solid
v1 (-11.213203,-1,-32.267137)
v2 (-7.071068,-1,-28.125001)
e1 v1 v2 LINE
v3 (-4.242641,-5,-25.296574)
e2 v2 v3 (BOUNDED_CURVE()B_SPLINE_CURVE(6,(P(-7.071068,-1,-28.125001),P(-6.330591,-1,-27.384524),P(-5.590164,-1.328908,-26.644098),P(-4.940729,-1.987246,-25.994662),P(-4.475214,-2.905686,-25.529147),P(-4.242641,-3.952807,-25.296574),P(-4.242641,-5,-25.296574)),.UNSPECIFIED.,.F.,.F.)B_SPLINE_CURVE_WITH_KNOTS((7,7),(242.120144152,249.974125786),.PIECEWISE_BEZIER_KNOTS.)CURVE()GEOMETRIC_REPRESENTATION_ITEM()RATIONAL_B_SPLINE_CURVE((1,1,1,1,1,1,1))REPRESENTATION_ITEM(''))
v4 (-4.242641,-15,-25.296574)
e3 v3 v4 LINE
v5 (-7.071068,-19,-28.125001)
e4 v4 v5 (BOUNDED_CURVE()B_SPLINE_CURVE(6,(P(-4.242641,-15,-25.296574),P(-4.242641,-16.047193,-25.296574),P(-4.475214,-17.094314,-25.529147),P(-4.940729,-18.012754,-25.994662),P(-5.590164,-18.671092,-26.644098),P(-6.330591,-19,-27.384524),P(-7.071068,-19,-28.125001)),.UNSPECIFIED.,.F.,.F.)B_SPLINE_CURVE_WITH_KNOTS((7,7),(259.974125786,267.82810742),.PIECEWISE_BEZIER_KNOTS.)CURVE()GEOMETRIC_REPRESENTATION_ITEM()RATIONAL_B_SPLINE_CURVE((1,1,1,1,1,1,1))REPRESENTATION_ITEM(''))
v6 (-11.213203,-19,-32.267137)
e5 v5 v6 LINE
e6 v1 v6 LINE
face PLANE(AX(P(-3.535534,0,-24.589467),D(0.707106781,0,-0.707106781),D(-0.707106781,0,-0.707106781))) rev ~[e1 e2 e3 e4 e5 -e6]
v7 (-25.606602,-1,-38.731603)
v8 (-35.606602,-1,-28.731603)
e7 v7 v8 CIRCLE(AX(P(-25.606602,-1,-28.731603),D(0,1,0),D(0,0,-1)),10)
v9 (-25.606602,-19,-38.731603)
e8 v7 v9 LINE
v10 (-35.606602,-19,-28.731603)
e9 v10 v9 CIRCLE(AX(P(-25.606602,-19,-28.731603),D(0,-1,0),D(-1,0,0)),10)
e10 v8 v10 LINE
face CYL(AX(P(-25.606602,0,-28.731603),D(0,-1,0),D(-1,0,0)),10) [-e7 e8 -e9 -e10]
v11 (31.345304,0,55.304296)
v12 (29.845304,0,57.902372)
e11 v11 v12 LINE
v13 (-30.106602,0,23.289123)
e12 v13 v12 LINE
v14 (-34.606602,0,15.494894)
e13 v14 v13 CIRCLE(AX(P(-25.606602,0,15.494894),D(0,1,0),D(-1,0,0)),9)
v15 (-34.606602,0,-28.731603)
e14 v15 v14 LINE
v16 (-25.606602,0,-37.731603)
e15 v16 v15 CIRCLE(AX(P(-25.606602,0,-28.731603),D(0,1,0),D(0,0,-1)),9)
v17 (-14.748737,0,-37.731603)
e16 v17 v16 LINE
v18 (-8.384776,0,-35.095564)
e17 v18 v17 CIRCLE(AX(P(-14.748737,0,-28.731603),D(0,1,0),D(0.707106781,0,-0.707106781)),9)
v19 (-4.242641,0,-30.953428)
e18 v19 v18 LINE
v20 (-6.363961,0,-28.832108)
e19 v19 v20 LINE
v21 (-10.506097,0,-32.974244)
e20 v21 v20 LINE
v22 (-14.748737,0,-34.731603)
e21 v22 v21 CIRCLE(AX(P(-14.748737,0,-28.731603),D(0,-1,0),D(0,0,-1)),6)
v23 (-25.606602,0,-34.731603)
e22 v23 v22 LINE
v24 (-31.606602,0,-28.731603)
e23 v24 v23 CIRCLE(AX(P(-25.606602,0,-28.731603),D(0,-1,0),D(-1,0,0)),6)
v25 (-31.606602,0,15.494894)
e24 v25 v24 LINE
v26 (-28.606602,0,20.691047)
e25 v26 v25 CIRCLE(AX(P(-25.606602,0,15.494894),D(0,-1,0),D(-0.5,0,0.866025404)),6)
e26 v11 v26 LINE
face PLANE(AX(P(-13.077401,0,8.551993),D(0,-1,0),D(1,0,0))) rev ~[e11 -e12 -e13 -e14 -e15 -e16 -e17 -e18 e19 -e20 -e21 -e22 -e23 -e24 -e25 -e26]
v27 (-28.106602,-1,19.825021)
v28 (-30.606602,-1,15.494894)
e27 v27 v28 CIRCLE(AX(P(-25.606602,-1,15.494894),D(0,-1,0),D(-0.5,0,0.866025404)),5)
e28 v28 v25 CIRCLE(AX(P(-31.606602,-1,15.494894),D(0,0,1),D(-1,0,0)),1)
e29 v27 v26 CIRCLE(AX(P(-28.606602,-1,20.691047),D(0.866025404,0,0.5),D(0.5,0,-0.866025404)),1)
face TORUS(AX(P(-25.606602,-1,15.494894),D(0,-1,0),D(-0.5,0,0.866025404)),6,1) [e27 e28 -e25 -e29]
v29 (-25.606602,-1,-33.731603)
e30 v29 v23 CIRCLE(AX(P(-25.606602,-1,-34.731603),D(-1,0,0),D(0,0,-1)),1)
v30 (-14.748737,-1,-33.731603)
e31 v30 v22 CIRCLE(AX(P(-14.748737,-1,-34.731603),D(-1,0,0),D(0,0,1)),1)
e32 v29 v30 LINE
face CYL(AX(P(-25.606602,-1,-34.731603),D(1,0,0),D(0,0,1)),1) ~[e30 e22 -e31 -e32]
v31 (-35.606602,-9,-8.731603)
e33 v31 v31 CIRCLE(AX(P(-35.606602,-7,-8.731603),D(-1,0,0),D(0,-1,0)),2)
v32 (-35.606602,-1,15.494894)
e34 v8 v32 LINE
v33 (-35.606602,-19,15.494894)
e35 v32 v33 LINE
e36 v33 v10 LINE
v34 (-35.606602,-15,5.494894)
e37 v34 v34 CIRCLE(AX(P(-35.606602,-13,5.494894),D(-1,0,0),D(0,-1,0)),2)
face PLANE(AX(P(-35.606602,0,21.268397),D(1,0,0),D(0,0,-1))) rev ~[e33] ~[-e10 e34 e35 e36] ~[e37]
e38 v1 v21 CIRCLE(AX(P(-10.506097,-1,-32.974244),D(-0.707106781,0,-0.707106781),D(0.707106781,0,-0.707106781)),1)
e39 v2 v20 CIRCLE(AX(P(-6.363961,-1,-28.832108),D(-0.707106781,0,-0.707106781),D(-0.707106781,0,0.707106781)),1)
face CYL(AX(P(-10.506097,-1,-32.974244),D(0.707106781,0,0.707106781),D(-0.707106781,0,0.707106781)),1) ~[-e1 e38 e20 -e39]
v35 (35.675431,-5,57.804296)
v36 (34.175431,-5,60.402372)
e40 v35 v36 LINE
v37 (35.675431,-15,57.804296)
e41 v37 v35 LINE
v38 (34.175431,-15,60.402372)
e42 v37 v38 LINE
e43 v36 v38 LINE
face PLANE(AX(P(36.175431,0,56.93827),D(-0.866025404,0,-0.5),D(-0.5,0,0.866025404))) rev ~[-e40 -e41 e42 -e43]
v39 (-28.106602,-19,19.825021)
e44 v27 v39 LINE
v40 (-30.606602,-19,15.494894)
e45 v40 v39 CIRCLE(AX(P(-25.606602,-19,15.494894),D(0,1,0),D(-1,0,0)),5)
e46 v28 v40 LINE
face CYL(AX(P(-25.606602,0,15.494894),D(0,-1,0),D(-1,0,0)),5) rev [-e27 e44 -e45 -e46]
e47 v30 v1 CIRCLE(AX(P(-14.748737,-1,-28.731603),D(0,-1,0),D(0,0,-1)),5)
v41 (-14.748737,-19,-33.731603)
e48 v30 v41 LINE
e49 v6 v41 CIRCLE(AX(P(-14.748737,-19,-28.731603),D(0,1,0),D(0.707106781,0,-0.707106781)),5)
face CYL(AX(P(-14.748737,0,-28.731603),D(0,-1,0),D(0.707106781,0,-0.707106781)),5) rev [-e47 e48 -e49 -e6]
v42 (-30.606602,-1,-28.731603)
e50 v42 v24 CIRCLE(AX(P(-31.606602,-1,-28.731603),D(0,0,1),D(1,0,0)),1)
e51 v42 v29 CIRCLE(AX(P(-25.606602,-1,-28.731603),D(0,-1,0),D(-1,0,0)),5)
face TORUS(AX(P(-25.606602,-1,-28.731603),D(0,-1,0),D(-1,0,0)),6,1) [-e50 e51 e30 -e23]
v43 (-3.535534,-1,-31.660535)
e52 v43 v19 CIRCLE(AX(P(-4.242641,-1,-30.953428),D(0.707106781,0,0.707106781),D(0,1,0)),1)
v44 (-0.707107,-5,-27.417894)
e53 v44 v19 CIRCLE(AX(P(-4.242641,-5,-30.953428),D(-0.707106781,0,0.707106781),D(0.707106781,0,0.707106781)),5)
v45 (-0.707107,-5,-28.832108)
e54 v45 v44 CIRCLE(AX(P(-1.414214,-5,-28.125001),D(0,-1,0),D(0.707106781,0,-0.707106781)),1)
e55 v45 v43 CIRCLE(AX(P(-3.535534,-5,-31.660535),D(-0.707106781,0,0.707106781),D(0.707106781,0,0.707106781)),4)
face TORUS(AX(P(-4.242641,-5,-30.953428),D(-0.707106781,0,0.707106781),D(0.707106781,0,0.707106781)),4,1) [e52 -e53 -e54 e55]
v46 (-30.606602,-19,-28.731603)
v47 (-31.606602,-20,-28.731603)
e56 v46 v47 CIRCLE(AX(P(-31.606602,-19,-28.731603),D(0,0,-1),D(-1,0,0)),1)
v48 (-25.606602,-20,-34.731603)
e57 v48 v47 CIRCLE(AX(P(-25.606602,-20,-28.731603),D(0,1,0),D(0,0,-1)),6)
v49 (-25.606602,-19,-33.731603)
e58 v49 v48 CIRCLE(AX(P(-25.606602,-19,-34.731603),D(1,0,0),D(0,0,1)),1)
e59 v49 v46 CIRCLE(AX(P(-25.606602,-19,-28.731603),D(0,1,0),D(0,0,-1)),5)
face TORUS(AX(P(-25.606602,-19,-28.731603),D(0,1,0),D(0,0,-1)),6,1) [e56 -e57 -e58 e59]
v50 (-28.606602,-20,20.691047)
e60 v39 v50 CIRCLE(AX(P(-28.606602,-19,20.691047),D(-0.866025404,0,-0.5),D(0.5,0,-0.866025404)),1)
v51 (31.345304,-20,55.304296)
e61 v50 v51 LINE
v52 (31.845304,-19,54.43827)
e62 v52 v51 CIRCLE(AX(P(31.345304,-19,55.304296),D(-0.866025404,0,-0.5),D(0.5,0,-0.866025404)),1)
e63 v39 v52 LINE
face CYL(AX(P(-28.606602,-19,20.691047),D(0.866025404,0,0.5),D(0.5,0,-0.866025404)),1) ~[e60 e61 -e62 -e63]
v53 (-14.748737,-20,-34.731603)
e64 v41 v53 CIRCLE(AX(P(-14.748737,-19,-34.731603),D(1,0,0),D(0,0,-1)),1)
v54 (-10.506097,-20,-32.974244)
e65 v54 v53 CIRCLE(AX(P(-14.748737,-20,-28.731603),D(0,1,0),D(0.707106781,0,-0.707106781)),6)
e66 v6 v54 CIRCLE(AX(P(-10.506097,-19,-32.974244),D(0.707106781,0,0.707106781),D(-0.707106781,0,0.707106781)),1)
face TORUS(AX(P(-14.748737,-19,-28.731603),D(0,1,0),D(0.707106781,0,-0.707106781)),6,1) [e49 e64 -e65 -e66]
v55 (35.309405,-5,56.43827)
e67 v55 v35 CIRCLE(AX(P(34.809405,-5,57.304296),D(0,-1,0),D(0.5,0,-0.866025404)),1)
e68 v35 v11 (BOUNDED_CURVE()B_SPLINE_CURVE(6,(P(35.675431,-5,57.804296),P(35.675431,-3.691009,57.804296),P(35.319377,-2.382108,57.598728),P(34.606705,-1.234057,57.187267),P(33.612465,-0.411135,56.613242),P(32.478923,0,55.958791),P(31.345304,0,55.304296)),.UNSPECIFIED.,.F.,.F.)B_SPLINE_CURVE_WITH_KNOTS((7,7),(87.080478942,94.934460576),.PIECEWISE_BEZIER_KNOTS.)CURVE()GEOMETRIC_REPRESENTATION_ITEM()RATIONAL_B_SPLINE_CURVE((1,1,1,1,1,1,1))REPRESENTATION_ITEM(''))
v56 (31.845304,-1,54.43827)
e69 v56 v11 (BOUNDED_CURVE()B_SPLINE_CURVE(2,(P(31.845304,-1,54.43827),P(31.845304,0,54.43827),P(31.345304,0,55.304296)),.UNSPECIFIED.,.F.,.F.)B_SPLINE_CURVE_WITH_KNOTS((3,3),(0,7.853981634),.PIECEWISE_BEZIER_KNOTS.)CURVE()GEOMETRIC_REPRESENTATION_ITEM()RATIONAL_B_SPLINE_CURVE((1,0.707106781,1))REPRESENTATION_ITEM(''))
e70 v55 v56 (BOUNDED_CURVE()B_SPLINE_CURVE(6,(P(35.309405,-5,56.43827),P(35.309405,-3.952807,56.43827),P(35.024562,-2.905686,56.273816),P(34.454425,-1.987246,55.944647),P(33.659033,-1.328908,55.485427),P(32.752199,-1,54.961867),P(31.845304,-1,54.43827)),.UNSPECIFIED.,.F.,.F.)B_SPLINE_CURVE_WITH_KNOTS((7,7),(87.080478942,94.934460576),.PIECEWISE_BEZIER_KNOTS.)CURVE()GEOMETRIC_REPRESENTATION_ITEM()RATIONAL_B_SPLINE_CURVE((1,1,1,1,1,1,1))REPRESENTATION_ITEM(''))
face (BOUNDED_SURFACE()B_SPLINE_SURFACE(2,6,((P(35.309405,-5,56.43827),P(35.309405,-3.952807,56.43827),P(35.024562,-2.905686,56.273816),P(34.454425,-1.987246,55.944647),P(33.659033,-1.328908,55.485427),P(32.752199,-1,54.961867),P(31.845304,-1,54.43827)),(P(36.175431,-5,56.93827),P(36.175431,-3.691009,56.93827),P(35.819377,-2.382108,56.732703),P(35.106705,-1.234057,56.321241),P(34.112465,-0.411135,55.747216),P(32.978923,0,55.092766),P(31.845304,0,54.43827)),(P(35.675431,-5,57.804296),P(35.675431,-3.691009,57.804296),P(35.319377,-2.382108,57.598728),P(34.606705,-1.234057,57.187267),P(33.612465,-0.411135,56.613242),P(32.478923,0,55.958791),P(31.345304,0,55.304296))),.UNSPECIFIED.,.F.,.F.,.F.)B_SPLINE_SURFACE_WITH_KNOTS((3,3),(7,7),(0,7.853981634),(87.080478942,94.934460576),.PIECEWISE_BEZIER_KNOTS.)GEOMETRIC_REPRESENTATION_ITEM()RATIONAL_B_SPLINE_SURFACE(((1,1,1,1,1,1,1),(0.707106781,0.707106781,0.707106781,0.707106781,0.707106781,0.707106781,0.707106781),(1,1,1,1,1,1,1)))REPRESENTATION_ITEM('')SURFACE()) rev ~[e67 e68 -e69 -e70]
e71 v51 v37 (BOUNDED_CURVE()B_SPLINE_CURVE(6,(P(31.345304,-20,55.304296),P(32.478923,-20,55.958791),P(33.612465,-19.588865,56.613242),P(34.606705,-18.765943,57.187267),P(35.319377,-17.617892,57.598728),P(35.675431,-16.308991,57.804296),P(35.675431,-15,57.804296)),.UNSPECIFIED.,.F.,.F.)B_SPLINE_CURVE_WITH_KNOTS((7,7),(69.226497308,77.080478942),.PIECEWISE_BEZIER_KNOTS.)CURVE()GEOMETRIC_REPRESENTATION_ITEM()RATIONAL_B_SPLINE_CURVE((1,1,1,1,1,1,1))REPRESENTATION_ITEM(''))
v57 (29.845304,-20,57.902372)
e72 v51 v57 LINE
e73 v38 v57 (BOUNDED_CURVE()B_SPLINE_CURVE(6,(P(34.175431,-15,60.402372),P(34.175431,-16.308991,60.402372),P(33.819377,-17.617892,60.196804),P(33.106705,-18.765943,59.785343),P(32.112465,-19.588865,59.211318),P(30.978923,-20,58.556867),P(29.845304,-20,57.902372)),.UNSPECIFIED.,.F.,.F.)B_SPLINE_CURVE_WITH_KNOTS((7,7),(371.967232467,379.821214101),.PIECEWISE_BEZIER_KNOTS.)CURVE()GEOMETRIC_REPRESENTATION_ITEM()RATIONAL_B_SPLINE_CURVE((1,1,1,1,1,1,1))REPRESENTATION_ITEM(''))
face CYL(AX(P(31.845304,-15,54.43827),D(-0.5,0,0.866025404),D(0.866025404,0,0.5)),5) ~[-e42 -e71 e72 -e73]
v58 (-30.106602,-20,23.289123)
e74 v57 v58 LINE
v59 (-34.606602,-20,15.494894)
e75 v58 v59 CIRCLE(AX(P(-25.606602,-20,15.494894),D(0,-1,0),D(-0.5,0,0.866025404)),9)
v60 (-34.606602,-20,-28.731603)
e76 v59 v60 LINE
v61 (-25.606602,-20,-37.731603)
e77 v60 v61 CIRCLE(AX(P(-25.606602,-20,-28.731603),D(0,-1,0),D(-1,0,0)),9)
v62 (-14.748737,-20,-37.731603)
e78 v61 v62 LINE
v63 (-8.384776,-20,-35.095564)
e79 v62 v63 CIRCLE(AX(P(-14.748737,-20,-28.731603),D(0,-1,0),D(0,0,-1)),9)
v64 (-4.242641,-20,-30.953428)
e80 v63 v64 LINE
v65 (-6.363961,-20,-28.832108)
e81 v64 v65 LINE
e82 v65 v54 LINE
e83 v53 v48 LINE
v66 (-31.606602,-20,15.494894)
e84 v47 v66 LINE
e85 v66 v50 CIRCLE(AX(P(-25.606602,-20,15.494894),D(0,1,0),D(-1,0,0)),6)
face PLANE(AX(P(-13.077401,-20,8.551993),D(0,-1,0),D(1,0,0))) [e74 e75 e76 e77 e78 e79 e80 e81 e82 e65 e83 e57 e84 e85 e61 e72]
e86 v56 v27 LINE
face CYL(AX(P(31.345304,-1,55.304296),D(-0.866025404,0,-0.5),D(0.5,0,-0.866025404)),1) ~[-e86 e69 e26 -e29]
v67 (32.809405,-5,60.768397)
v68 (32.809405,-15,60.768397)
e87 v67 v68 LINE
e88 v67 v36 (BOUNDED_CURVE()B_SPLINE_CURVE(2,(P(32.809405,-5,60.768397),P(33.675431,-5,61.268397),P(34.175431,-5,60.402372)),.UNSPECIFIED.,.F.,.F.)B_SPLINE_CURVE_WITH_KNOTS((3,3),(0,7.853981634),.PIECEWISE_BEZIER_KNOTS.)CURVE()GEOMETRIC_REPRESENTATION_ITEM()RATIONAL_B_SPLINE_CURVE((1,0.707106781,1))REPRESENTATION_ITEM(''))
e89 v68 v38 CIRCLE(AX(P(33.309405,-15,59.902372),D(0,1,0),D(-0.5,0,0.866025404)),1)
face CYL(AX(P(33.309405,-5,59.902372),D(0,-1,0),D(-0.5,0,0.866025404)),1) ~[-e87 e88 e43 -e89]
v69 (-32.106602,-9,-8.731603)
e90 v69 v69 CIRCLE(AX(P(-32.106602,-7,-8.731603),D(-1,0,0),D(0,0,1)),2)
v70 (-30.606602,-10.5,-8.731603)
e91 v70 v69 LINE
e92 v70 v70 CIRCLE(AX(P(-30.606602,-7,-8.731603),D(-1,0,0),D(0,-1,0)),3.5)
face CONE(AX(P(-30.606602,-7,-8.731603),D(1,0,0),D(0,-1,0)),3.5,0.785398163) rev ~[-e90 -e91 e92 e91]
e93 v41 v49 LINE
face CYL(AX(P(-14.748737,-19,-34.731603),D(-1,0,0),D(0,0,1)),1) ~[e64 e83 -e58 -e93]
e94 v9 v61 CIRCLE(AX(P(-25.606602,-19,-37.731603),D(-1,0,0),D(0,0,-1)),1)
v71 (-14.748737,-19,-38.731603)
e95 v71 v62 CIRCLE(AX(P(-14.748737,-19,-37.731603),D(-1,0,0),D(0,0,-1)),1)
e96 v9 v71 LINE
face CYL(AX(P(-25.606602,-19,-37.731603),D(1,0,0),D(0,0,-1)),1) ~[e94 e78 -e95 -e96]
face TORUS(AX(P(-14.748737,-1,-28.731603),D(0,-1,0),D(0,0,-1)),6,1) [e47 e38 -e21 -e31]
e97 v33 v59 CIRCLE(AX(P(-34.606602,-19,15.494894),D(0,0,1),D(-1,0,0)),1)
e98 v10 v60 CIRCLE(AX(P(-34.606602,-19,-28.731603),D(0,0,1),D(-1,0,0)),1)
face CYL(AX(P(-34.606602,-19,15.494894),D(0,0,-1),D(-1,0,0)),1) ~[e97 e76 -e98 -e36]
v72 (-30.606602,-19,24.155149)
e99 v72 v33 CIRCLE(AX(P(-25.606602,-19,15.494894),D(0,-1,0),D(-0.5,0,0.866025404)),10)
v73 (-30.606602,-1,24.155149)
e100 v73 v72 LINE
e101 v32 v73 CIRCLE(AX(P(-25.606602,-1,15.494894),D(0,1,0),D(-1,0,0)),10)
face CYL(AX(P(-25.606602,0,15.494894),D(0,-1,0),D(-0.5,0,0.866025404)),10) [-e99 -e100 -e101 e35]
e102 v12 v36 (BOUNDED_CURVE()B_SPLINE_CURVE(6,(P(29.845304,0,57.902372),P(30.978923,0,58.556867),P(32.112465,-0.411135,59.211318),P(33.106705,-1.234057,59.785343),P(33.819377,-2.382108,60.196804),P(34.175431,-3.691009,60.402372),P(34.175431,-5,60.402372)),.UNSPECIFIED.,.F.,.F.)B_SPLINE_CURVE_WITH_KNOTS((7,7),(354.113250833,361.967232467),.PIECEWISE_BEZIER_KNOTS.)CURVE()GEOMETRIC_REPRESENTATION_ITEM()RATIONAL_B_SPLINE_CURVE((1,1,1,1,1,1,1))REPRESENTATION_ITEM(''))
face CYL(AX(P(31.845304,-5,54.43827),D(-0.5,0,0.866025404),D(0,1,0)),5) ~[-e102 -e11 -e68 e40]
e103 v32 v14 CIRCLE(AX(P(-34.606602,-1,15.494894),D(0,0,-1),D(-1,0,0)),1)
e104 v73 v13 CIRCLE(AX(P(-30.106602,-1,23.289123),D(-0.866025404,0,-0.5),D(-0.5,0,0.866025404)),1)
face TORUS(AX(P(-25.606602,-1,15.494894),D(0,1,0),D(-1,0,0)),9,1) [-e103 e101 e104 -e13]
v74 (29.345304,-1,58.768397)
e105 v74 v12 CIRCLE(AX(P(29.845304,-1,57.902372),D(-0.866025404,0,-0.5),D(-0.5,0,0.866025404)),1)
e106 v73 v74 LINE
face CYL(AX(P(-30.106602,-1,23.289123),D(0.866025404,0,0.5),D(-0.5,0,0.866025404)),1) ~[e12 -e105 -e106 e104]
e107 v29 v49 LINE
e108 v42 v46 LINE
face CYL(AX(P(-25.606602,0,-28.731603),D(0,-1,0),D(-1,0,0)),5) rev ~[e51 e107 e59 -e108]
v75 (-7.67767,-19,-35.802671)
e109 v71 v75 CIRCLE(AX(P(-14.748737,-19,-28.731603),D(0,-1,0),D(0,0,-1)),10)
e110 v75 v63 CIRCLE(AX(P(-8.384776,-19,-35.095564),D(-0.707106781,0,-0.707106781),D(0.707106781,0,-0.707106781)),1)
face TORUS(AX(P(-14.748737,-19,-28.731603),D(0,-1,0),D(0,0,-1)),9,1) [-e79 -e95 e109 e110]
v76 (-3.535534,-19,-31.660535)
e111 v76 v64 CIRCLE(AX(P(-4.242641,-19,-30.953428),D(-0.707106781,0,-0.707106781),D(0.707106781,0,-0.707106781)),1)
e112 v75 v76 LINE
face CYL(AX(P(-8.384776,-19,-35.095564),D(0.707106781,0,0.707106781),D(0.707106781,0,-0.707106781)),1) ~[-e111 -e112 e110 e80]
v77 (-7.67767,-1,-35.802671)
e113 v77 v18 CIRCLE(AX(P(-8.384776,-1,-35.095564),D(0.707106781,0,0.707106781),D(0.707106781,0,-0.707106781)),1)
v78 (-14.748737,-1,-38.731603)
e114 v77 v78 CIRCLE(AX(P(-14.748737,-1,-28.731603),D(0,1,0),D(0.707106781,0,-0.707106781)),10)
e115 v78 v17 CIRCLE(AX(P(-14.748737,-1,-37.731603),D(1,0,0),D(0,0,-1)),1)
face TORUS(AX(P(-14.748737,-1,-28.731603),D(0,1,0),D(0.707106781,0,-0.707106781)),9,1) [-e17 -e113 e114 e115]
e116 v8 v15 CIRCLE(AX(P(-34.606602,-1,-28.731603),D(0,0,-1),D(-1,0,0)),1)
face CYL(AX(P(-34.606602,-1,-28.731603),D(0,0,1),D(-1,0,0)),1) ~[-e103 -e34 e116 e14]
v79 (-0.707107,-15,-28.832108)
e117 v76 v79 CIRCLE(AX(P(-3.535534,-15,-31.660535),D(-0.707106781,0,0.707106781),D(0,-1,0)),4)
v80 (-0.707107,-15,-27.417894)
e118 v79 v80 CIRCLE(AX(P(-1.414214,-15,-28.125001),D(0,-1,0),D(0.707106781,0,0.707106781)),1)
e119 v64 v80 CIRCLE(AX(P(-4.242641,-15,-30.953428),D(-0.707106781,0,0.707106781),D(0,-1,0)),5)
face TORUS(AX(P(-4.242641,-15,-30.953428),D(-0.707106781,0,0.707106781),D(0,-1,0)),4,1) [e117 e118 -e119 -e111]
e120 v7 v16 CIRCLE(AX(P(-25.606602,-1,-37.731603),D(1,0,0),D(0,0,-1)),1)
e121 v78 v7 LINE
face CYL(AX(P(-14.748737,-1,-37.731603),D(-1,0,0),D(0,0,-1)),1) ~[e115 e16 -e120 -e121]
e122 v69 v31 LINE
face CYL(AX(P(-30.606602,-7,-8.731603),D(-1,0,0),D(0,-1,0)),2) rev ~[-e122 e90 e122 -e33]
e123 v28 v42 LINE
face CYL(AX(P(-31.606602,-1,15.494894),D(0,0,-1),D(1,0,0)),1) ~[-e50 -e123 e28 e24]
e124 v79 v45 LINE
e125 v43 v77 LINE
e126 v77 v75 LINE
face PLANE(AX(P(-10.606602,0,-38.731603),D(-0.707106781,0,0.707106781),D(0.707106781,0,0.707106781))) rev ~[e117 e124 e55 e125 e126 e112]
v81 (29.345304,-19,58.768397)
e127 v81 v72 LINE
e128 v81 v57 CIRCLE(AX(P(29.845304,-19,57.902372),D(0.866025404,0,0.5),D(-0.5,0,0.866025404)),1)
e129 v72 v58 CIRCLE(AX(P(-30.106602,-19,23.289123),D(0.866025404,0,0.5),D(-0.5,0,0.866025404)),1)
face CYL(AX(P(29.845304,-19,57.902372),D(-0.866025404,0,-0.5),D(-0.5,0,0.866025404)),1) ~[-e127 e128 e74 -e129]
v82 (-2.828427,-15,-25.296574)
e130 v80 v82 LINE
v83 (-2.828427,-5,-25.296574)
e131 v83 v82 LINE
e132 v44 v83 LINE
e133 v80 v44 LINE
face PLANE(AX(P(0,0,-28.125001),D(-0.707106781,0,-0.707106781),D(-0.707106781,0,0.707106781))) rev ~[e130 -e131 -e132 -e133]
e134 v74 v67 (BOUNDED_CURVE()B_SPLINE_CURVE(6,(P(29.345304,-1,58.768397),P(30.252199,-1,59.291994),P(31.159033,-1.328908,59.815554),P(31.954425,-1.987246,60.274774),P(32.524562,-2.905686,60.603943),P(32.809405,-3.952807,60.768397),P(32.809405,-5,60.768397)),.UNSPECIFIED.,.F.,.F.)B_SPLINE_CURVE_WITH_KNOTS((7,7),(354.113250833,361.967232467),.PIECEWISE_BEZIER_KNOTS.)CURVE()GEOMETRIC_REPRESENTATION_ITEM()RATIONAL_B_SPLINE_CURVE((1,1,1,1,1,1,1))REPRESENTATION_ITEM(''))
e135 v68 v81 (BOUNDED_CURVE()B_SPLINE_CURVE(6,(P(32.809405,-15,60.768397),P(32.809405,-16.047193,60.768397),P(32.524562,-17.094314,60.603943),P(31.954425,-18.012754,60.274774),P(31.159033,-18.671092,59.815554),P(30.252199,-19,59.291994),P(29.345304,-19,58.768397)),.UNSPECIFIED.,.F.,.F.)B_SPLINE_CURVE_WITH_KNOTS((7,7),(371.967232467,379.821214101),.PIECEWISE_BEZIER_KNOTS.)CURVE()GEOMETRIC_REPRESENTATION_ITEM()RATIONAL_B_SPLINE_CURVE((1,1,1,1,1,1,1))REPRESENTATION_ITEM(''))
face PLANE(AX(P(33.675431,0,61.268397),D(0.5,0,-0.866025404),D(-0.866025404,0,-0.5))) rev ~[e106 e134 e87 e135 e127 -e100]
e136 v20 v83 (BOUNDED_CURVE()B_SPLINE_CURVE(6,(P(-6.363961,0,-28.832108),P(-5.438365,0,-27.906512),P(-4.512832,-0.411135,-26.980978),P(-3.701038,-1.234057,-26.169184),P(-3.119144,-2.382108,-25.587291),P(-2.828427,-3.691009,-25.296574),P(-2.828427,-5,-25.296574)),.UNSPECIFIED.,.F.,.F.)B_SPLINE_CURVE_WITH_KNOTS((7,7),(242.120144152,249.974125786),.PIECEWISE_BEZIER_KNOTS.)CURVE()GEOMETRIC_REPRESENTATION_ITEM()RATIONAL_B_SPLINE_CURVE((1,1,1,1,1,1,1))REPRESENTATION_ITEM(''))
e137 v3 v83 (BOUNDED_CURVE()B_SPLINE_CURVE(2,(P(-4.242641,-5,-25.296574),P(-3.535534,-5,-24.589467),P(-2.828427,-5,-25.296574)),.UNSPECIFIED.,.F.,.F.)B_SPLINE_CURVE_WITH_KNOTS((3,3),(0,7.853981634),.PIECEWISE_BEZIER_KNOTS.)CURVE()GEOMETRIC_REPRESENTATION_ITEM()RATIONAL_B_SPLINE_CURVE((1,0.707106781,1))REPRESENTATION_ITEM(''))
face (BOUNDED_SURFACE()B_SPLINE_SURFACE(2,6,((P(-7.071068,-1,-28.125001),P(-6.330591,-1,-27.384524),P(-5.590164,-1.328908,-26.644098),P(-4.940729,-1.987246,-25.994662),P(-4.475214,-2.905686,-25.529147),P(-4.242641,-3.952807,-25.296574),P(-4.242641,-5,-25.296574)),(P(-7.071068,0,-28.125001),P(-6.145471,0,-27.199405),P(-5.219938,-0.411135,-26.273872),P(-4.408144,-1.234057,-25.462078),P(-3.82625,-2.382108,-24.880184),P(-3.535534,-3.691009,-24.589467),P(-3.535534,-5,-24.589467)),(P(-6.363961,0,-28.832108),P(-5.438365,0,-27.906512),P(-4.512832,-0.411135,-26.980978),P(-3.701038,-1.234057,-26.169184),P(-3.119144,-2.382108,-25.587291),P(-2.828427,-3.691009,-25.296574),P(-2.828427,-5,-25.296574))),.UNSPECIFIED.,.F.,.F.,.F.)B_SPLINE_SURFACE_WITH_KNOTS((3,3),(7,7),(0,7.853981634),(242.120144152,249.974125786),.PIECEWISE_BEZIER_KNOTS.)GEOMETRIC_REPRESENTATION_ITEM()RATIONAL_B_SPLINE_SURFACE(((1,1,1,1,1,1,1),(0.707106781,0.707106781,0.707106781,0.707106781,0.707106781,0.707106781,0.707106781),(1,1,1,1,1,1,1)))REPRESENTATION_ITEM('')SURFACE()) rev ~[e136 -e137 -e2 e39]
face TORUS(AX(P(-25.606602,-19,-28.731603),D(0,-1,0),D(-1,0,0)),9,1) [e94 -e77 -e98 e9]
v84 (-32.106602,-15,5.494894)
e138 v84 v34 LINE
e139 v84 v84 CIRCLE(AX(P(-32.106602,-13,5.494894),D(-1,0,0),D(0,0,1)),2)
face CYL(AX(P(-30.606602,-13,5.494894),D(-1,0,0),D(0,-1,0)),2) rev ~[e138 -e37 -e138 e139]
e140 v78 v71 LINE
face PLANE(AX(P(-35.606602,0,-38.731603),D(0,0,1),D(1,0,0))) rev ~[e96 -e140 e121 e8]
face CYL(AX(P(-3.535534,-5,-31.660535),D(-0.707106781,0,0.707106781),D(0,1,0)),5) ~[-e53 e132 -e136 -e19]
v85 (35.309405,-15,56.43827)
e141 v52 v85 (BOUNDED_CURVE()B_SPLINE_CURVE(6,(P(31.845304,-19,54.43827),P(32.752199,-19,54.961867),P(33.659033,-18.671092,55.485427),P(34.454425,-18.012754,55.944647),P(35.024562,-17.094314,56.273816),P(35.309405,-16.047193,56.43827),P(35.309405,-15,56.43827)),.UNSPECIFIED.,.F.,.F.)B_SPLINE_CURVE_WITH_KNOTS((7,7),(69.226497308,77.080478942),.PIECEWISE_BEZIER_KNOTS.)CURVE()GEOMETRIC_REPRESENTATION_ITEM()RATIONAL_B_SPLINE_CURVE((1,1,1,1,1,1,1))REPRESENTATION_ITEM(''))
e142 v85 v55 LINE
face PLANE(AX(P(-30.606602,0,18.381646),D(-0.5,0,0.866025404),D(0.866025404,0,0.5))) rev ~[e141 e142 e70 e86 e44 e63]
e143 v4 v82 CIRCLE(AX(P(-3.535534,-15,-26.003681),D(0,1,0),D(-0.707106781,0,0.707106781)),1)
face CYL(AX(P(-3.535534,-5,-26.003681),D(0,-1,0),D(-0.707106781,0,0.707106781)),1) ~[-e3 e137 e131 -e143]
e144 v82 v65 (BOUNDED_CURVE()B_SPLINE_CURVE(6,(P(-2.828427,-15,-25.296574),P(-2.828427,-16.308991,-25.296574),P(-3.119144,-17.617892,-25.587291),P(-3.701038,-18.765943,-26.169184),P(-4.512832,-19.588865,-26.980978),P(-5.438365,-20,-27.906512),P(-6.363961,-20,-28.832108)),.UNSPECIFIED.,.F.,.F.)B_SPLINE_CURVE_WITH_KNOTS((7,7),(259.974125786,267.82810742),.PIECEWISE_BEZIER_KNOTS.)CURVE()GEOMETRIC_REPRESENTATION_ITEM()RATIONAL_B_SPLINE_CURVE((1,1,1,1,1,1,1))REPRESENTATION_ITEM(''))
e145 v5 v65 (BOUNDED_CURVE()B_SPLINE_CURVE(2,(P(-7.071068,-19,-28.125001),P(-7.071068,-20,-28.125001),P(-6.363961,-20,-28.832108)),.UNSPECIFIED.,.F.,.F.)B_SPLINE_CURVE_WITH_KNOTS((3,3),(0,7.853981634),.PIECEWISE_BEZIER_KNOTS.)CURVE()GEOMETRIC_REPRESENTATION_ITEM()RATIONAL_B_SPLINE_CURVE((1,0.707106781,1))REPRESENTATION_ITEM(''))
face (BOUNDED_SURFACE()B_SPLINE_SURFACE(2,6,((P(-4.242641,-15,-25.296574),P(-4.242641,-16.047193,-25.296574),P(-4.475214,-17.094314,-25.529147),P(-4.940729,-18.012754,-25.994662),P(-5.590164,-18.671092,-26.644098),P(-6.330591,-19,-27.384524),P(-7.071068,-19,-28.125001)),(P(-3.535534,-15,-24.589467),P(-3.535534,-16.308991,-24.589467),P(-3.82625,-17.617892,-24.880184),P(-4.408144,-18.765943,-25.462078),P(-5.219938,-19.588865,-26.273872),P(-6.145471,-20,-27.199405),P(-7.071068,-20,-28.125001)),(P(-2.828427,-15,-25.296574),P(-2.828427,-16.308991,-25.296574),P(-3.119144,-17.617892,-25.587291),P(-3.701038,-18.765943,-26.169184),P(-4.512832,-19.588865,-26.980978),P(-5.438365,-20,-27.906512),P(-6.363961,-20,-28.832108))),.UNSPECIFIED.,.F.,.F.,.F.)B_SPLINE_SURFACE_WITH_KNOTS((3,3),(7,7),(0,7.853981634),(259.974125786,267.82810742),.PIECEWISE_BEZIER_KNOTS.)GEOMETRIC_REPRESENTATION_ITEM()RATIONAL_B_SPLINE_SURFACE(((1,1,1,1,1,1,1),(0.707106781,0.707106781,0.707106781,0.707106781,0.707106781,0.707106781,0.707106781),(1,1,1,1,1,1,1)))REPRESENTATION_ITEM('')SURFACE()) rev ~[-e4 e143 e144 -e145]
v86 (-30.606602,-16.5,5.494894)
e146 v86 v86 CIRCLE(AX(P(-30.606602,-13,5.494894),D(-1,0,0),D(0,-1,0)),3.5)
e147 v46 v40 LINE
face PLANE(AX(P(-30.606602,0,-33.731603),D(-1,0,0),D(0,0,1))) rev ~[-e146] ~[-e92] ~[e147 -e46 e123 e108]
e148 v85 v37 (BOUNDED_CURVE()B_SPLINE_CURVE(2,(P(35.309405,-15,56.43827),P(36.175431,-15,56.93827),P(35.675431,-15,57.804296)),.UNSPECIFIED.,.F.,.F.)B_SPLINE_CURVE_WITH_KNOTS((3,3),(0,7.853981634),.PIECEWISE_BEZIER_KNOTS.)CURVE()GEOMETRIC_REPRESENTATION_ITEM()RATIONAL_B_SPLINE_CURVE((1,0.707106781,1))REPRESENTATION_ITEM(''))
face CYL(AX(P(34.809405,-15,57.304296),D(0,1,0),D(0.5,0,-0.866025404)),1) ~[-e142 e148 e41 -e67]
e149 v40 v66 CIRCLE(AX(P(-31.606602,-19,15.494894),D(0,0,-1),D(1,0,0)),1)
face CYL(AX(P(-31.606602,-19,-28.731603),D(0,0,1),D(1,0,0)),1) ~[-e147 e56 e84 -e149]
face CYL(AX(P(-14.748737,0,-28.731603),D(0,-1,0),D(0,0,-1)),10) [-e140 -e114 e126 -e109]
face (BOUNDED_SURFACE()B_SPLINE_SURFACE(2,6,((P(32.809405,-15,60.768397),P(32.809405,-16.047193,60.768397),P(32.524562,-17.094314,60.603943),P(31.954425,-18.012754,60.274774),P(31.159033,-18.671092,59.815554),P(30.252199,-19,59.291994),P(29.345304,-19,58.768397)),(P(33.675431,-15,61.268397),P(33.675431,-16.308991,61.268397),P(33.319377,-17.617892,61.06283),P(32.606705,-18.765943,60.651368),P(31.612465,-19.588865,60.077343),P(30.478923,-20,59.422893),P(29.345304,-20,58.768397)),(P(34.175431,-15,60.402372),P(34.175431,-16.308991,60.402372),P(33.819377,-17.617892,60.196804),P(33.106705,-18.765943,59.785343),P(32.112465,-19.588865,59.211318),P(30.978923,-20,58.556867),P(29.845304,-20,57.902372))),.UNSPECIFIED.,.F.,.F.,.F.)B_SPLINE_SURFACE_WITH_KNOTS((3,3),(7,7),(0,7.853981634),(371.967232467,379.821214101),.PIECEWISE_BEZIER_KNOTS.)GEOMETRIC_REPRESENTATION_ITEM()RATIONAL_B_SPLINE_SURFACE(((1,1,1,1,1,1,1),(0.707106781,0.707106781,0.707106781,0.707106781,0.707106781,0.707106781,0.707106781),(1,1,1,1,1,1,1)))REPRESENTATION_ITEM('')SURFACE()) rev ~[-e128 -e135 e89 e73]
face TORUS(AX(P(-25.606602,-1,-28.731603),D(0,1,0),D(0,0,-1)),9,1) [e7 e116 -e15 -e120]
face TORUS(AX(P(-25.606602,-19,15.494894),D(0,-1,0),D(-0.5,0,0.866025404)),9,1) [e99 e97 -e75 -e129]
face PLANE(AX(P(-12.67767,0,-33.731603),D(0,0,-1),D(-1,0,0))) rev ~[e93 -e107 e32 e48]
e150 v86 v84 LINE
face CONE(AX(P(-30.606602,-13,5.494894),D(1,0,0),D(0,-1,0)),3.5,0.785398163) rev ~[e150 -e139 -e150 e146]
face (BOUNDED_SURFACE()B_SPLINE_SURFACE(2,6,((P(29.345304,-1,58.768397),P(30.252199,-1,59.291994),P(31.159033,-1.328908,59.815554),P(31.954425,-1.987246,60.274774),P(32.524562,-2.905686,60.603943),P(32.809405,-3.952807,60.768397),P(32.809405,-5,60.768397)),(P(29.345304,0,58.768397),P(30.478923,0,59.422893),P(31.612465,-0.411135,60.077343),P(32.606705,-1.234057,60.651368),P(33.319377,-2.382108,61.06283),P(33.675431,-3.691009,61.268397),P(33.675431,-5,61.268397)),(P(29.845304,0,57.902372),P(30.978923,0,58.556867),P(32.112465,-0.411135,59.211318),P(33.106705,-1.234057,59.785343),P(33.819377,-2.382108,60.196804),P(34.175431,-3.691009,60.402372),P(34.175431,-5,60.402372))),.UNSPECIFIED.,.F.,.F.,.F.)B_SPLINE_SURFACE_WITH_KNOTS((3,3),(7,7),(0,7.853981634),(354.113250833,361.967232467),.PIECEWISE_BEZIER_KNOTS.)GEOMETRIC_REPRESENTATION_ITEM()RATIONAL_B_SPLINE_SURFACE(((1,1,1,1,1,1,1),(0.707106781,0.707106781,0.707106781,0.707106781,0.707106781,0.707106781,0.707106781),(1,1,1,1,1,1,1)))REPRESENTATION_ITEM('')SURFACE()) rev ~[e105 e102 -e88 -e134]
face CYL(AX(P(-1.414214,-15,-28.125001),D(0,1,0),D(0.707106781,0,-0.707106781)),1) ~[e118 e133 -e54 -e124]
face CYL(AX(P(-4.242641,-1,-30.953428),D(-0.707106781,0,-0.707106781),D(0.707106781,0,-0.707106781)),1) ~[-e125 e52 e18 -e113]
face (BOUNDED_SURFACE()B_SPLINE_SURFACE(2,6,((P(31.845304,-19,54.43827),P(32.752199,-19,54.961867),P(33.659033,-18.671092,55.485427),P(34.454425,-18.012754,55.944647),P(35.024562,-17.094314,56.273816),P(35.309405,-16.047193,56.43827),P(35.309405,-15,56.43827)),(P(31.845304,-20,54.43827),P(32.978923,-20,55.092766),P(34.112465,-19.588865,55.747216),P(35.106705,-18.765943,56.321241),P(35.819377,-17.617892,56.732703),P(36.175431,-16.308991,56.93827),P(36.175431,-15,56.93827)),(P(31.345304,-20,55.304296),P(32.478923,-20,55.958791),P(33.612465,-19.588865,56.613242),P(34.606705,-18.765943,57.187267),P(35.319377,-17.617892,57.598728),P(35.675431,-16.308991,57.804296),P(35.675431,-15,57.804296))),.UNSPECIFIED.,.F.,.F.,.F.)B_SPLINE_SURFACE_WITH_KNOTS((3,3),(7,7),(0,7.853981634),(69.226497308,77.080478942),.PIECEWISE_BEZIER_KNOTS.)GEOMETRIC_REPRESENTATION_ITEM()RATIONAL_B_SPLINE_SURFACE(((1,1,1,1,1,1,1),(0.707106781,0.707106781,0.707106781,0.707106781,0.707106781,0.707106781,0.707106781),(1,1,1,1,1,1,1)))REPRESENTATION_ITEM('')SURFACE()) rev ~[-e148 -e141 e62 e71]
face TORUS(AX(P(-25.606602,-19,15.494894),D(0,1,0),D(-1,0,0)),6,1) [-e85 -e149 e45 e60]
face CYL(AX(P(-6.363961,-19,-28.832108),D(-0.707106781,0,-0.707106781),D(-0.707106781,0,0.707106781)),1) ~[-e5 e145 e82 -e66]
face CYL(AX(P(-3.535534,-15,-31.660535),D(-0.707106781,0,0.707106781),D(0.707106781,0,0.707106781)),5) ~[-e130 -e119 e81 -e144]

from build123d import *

# Parameters (mm, degrees)
F1_DEPTH        = 20
F2_R            = 10
F3_R            = 10
F4_R            = 5
F5_R            = 5
F6_R            = 5
F7_R            = 5
F8_R            = 1
F10_D           = 4
F10_CSINK_D     = 7
F10_CSINK_ANGLE = 90


with BuildPart() as f1:
    # F0 (on Front) → F1 (new body)
    with BuildSketch(Plane.XZ):
        Polygon((33.675430585, 61.2683971646), (-35.6066017178, 21.2683971646), (-35.6066017178, -33.7316028354), (-35.6066017178, -38.7316028354), (-30.6066017178, -38.7316028354), (-10.6066017178, -38.7316028354), (0, -28.1250011176), (-3.5355339059, -24.5894672117), (-12.6776695297, -33.7316028354), (-30.6066017178, -33.7316028354), (-30.6066017178, 18.3816458187), (36.175430585, 56.9382701457), align=None)
    extrude(amount=F1_DEPTH)

    # F2
    f2_edges = [f1.edges().sort_by_distance(p)[0] for p in [
        (-35.606602, -10, 21.268397),
    ]]
    fillet(f2_edges, radius=F2_R)

    # F3
    f3_edges = [f1.edges().sort_by_distance(p)[0] for p in [
        (-35.606602, -10, -38.731603),
        (-10.606602, -10, -38.731603),
    ]]
    fillet(f3_edges, radius=F3_R)

    # F4
    f4_edges = [f1.edges().sort_by_distance(p)[0] for p in [
        (-30.606602, -10, -33.731603),
        (-12.67767, -10, -33.731603),
    ]]
    fillet(f4_edges, radius=F4_R)

    # F5
    f5_edges = [f1.edges().sort_by_distance(p)[0] for p in [
        (-30.606602, -10, 18.381646),
    ]]
    fillet(f5_edges, radius=F5_R)

    # F6
    f6_edges = [f1.edges().sort_by_distance(p)[0] for p in [
        (-1.767767, 0, -26.357234),
        (-1.767767, -20, -26.357234),
    ]]
    fillet(f6_edges, radius=F6_R)

    # F7
    f7_edges = [f1.edges().sort_by_distance(p)[0] for p in [
        (34.925431, 0, 59.103334),
        (34.925431, -20, 59.103334),
    ]]
    fillet(f7_edges, radius=F7_R)

    # F8
    f8_edges = [f1.edges().sort_by_distance(p)[0] for p in [
        (-0.630649, -20, 41.461773),
        (1.869351, -20, 37.131646),
        (32.407166, -18.535534, 60.536164),
        (34.907166, -18.535534, 56.206037),
    ]]
    fillet(f8_edges, radius=F8_R)

    # F10 (through all)
    with Locations(Plane.YZ.offset(-30.6066017178)):
        with Locations((-13, 5.4948944727), (-7, -8.7316028354)):
            CounterSinkHole(F10_D / 2, F10_CSINK_D / 2, counter_sink_angle=F10_CSINK_ANGLE)


solid = f1.part
